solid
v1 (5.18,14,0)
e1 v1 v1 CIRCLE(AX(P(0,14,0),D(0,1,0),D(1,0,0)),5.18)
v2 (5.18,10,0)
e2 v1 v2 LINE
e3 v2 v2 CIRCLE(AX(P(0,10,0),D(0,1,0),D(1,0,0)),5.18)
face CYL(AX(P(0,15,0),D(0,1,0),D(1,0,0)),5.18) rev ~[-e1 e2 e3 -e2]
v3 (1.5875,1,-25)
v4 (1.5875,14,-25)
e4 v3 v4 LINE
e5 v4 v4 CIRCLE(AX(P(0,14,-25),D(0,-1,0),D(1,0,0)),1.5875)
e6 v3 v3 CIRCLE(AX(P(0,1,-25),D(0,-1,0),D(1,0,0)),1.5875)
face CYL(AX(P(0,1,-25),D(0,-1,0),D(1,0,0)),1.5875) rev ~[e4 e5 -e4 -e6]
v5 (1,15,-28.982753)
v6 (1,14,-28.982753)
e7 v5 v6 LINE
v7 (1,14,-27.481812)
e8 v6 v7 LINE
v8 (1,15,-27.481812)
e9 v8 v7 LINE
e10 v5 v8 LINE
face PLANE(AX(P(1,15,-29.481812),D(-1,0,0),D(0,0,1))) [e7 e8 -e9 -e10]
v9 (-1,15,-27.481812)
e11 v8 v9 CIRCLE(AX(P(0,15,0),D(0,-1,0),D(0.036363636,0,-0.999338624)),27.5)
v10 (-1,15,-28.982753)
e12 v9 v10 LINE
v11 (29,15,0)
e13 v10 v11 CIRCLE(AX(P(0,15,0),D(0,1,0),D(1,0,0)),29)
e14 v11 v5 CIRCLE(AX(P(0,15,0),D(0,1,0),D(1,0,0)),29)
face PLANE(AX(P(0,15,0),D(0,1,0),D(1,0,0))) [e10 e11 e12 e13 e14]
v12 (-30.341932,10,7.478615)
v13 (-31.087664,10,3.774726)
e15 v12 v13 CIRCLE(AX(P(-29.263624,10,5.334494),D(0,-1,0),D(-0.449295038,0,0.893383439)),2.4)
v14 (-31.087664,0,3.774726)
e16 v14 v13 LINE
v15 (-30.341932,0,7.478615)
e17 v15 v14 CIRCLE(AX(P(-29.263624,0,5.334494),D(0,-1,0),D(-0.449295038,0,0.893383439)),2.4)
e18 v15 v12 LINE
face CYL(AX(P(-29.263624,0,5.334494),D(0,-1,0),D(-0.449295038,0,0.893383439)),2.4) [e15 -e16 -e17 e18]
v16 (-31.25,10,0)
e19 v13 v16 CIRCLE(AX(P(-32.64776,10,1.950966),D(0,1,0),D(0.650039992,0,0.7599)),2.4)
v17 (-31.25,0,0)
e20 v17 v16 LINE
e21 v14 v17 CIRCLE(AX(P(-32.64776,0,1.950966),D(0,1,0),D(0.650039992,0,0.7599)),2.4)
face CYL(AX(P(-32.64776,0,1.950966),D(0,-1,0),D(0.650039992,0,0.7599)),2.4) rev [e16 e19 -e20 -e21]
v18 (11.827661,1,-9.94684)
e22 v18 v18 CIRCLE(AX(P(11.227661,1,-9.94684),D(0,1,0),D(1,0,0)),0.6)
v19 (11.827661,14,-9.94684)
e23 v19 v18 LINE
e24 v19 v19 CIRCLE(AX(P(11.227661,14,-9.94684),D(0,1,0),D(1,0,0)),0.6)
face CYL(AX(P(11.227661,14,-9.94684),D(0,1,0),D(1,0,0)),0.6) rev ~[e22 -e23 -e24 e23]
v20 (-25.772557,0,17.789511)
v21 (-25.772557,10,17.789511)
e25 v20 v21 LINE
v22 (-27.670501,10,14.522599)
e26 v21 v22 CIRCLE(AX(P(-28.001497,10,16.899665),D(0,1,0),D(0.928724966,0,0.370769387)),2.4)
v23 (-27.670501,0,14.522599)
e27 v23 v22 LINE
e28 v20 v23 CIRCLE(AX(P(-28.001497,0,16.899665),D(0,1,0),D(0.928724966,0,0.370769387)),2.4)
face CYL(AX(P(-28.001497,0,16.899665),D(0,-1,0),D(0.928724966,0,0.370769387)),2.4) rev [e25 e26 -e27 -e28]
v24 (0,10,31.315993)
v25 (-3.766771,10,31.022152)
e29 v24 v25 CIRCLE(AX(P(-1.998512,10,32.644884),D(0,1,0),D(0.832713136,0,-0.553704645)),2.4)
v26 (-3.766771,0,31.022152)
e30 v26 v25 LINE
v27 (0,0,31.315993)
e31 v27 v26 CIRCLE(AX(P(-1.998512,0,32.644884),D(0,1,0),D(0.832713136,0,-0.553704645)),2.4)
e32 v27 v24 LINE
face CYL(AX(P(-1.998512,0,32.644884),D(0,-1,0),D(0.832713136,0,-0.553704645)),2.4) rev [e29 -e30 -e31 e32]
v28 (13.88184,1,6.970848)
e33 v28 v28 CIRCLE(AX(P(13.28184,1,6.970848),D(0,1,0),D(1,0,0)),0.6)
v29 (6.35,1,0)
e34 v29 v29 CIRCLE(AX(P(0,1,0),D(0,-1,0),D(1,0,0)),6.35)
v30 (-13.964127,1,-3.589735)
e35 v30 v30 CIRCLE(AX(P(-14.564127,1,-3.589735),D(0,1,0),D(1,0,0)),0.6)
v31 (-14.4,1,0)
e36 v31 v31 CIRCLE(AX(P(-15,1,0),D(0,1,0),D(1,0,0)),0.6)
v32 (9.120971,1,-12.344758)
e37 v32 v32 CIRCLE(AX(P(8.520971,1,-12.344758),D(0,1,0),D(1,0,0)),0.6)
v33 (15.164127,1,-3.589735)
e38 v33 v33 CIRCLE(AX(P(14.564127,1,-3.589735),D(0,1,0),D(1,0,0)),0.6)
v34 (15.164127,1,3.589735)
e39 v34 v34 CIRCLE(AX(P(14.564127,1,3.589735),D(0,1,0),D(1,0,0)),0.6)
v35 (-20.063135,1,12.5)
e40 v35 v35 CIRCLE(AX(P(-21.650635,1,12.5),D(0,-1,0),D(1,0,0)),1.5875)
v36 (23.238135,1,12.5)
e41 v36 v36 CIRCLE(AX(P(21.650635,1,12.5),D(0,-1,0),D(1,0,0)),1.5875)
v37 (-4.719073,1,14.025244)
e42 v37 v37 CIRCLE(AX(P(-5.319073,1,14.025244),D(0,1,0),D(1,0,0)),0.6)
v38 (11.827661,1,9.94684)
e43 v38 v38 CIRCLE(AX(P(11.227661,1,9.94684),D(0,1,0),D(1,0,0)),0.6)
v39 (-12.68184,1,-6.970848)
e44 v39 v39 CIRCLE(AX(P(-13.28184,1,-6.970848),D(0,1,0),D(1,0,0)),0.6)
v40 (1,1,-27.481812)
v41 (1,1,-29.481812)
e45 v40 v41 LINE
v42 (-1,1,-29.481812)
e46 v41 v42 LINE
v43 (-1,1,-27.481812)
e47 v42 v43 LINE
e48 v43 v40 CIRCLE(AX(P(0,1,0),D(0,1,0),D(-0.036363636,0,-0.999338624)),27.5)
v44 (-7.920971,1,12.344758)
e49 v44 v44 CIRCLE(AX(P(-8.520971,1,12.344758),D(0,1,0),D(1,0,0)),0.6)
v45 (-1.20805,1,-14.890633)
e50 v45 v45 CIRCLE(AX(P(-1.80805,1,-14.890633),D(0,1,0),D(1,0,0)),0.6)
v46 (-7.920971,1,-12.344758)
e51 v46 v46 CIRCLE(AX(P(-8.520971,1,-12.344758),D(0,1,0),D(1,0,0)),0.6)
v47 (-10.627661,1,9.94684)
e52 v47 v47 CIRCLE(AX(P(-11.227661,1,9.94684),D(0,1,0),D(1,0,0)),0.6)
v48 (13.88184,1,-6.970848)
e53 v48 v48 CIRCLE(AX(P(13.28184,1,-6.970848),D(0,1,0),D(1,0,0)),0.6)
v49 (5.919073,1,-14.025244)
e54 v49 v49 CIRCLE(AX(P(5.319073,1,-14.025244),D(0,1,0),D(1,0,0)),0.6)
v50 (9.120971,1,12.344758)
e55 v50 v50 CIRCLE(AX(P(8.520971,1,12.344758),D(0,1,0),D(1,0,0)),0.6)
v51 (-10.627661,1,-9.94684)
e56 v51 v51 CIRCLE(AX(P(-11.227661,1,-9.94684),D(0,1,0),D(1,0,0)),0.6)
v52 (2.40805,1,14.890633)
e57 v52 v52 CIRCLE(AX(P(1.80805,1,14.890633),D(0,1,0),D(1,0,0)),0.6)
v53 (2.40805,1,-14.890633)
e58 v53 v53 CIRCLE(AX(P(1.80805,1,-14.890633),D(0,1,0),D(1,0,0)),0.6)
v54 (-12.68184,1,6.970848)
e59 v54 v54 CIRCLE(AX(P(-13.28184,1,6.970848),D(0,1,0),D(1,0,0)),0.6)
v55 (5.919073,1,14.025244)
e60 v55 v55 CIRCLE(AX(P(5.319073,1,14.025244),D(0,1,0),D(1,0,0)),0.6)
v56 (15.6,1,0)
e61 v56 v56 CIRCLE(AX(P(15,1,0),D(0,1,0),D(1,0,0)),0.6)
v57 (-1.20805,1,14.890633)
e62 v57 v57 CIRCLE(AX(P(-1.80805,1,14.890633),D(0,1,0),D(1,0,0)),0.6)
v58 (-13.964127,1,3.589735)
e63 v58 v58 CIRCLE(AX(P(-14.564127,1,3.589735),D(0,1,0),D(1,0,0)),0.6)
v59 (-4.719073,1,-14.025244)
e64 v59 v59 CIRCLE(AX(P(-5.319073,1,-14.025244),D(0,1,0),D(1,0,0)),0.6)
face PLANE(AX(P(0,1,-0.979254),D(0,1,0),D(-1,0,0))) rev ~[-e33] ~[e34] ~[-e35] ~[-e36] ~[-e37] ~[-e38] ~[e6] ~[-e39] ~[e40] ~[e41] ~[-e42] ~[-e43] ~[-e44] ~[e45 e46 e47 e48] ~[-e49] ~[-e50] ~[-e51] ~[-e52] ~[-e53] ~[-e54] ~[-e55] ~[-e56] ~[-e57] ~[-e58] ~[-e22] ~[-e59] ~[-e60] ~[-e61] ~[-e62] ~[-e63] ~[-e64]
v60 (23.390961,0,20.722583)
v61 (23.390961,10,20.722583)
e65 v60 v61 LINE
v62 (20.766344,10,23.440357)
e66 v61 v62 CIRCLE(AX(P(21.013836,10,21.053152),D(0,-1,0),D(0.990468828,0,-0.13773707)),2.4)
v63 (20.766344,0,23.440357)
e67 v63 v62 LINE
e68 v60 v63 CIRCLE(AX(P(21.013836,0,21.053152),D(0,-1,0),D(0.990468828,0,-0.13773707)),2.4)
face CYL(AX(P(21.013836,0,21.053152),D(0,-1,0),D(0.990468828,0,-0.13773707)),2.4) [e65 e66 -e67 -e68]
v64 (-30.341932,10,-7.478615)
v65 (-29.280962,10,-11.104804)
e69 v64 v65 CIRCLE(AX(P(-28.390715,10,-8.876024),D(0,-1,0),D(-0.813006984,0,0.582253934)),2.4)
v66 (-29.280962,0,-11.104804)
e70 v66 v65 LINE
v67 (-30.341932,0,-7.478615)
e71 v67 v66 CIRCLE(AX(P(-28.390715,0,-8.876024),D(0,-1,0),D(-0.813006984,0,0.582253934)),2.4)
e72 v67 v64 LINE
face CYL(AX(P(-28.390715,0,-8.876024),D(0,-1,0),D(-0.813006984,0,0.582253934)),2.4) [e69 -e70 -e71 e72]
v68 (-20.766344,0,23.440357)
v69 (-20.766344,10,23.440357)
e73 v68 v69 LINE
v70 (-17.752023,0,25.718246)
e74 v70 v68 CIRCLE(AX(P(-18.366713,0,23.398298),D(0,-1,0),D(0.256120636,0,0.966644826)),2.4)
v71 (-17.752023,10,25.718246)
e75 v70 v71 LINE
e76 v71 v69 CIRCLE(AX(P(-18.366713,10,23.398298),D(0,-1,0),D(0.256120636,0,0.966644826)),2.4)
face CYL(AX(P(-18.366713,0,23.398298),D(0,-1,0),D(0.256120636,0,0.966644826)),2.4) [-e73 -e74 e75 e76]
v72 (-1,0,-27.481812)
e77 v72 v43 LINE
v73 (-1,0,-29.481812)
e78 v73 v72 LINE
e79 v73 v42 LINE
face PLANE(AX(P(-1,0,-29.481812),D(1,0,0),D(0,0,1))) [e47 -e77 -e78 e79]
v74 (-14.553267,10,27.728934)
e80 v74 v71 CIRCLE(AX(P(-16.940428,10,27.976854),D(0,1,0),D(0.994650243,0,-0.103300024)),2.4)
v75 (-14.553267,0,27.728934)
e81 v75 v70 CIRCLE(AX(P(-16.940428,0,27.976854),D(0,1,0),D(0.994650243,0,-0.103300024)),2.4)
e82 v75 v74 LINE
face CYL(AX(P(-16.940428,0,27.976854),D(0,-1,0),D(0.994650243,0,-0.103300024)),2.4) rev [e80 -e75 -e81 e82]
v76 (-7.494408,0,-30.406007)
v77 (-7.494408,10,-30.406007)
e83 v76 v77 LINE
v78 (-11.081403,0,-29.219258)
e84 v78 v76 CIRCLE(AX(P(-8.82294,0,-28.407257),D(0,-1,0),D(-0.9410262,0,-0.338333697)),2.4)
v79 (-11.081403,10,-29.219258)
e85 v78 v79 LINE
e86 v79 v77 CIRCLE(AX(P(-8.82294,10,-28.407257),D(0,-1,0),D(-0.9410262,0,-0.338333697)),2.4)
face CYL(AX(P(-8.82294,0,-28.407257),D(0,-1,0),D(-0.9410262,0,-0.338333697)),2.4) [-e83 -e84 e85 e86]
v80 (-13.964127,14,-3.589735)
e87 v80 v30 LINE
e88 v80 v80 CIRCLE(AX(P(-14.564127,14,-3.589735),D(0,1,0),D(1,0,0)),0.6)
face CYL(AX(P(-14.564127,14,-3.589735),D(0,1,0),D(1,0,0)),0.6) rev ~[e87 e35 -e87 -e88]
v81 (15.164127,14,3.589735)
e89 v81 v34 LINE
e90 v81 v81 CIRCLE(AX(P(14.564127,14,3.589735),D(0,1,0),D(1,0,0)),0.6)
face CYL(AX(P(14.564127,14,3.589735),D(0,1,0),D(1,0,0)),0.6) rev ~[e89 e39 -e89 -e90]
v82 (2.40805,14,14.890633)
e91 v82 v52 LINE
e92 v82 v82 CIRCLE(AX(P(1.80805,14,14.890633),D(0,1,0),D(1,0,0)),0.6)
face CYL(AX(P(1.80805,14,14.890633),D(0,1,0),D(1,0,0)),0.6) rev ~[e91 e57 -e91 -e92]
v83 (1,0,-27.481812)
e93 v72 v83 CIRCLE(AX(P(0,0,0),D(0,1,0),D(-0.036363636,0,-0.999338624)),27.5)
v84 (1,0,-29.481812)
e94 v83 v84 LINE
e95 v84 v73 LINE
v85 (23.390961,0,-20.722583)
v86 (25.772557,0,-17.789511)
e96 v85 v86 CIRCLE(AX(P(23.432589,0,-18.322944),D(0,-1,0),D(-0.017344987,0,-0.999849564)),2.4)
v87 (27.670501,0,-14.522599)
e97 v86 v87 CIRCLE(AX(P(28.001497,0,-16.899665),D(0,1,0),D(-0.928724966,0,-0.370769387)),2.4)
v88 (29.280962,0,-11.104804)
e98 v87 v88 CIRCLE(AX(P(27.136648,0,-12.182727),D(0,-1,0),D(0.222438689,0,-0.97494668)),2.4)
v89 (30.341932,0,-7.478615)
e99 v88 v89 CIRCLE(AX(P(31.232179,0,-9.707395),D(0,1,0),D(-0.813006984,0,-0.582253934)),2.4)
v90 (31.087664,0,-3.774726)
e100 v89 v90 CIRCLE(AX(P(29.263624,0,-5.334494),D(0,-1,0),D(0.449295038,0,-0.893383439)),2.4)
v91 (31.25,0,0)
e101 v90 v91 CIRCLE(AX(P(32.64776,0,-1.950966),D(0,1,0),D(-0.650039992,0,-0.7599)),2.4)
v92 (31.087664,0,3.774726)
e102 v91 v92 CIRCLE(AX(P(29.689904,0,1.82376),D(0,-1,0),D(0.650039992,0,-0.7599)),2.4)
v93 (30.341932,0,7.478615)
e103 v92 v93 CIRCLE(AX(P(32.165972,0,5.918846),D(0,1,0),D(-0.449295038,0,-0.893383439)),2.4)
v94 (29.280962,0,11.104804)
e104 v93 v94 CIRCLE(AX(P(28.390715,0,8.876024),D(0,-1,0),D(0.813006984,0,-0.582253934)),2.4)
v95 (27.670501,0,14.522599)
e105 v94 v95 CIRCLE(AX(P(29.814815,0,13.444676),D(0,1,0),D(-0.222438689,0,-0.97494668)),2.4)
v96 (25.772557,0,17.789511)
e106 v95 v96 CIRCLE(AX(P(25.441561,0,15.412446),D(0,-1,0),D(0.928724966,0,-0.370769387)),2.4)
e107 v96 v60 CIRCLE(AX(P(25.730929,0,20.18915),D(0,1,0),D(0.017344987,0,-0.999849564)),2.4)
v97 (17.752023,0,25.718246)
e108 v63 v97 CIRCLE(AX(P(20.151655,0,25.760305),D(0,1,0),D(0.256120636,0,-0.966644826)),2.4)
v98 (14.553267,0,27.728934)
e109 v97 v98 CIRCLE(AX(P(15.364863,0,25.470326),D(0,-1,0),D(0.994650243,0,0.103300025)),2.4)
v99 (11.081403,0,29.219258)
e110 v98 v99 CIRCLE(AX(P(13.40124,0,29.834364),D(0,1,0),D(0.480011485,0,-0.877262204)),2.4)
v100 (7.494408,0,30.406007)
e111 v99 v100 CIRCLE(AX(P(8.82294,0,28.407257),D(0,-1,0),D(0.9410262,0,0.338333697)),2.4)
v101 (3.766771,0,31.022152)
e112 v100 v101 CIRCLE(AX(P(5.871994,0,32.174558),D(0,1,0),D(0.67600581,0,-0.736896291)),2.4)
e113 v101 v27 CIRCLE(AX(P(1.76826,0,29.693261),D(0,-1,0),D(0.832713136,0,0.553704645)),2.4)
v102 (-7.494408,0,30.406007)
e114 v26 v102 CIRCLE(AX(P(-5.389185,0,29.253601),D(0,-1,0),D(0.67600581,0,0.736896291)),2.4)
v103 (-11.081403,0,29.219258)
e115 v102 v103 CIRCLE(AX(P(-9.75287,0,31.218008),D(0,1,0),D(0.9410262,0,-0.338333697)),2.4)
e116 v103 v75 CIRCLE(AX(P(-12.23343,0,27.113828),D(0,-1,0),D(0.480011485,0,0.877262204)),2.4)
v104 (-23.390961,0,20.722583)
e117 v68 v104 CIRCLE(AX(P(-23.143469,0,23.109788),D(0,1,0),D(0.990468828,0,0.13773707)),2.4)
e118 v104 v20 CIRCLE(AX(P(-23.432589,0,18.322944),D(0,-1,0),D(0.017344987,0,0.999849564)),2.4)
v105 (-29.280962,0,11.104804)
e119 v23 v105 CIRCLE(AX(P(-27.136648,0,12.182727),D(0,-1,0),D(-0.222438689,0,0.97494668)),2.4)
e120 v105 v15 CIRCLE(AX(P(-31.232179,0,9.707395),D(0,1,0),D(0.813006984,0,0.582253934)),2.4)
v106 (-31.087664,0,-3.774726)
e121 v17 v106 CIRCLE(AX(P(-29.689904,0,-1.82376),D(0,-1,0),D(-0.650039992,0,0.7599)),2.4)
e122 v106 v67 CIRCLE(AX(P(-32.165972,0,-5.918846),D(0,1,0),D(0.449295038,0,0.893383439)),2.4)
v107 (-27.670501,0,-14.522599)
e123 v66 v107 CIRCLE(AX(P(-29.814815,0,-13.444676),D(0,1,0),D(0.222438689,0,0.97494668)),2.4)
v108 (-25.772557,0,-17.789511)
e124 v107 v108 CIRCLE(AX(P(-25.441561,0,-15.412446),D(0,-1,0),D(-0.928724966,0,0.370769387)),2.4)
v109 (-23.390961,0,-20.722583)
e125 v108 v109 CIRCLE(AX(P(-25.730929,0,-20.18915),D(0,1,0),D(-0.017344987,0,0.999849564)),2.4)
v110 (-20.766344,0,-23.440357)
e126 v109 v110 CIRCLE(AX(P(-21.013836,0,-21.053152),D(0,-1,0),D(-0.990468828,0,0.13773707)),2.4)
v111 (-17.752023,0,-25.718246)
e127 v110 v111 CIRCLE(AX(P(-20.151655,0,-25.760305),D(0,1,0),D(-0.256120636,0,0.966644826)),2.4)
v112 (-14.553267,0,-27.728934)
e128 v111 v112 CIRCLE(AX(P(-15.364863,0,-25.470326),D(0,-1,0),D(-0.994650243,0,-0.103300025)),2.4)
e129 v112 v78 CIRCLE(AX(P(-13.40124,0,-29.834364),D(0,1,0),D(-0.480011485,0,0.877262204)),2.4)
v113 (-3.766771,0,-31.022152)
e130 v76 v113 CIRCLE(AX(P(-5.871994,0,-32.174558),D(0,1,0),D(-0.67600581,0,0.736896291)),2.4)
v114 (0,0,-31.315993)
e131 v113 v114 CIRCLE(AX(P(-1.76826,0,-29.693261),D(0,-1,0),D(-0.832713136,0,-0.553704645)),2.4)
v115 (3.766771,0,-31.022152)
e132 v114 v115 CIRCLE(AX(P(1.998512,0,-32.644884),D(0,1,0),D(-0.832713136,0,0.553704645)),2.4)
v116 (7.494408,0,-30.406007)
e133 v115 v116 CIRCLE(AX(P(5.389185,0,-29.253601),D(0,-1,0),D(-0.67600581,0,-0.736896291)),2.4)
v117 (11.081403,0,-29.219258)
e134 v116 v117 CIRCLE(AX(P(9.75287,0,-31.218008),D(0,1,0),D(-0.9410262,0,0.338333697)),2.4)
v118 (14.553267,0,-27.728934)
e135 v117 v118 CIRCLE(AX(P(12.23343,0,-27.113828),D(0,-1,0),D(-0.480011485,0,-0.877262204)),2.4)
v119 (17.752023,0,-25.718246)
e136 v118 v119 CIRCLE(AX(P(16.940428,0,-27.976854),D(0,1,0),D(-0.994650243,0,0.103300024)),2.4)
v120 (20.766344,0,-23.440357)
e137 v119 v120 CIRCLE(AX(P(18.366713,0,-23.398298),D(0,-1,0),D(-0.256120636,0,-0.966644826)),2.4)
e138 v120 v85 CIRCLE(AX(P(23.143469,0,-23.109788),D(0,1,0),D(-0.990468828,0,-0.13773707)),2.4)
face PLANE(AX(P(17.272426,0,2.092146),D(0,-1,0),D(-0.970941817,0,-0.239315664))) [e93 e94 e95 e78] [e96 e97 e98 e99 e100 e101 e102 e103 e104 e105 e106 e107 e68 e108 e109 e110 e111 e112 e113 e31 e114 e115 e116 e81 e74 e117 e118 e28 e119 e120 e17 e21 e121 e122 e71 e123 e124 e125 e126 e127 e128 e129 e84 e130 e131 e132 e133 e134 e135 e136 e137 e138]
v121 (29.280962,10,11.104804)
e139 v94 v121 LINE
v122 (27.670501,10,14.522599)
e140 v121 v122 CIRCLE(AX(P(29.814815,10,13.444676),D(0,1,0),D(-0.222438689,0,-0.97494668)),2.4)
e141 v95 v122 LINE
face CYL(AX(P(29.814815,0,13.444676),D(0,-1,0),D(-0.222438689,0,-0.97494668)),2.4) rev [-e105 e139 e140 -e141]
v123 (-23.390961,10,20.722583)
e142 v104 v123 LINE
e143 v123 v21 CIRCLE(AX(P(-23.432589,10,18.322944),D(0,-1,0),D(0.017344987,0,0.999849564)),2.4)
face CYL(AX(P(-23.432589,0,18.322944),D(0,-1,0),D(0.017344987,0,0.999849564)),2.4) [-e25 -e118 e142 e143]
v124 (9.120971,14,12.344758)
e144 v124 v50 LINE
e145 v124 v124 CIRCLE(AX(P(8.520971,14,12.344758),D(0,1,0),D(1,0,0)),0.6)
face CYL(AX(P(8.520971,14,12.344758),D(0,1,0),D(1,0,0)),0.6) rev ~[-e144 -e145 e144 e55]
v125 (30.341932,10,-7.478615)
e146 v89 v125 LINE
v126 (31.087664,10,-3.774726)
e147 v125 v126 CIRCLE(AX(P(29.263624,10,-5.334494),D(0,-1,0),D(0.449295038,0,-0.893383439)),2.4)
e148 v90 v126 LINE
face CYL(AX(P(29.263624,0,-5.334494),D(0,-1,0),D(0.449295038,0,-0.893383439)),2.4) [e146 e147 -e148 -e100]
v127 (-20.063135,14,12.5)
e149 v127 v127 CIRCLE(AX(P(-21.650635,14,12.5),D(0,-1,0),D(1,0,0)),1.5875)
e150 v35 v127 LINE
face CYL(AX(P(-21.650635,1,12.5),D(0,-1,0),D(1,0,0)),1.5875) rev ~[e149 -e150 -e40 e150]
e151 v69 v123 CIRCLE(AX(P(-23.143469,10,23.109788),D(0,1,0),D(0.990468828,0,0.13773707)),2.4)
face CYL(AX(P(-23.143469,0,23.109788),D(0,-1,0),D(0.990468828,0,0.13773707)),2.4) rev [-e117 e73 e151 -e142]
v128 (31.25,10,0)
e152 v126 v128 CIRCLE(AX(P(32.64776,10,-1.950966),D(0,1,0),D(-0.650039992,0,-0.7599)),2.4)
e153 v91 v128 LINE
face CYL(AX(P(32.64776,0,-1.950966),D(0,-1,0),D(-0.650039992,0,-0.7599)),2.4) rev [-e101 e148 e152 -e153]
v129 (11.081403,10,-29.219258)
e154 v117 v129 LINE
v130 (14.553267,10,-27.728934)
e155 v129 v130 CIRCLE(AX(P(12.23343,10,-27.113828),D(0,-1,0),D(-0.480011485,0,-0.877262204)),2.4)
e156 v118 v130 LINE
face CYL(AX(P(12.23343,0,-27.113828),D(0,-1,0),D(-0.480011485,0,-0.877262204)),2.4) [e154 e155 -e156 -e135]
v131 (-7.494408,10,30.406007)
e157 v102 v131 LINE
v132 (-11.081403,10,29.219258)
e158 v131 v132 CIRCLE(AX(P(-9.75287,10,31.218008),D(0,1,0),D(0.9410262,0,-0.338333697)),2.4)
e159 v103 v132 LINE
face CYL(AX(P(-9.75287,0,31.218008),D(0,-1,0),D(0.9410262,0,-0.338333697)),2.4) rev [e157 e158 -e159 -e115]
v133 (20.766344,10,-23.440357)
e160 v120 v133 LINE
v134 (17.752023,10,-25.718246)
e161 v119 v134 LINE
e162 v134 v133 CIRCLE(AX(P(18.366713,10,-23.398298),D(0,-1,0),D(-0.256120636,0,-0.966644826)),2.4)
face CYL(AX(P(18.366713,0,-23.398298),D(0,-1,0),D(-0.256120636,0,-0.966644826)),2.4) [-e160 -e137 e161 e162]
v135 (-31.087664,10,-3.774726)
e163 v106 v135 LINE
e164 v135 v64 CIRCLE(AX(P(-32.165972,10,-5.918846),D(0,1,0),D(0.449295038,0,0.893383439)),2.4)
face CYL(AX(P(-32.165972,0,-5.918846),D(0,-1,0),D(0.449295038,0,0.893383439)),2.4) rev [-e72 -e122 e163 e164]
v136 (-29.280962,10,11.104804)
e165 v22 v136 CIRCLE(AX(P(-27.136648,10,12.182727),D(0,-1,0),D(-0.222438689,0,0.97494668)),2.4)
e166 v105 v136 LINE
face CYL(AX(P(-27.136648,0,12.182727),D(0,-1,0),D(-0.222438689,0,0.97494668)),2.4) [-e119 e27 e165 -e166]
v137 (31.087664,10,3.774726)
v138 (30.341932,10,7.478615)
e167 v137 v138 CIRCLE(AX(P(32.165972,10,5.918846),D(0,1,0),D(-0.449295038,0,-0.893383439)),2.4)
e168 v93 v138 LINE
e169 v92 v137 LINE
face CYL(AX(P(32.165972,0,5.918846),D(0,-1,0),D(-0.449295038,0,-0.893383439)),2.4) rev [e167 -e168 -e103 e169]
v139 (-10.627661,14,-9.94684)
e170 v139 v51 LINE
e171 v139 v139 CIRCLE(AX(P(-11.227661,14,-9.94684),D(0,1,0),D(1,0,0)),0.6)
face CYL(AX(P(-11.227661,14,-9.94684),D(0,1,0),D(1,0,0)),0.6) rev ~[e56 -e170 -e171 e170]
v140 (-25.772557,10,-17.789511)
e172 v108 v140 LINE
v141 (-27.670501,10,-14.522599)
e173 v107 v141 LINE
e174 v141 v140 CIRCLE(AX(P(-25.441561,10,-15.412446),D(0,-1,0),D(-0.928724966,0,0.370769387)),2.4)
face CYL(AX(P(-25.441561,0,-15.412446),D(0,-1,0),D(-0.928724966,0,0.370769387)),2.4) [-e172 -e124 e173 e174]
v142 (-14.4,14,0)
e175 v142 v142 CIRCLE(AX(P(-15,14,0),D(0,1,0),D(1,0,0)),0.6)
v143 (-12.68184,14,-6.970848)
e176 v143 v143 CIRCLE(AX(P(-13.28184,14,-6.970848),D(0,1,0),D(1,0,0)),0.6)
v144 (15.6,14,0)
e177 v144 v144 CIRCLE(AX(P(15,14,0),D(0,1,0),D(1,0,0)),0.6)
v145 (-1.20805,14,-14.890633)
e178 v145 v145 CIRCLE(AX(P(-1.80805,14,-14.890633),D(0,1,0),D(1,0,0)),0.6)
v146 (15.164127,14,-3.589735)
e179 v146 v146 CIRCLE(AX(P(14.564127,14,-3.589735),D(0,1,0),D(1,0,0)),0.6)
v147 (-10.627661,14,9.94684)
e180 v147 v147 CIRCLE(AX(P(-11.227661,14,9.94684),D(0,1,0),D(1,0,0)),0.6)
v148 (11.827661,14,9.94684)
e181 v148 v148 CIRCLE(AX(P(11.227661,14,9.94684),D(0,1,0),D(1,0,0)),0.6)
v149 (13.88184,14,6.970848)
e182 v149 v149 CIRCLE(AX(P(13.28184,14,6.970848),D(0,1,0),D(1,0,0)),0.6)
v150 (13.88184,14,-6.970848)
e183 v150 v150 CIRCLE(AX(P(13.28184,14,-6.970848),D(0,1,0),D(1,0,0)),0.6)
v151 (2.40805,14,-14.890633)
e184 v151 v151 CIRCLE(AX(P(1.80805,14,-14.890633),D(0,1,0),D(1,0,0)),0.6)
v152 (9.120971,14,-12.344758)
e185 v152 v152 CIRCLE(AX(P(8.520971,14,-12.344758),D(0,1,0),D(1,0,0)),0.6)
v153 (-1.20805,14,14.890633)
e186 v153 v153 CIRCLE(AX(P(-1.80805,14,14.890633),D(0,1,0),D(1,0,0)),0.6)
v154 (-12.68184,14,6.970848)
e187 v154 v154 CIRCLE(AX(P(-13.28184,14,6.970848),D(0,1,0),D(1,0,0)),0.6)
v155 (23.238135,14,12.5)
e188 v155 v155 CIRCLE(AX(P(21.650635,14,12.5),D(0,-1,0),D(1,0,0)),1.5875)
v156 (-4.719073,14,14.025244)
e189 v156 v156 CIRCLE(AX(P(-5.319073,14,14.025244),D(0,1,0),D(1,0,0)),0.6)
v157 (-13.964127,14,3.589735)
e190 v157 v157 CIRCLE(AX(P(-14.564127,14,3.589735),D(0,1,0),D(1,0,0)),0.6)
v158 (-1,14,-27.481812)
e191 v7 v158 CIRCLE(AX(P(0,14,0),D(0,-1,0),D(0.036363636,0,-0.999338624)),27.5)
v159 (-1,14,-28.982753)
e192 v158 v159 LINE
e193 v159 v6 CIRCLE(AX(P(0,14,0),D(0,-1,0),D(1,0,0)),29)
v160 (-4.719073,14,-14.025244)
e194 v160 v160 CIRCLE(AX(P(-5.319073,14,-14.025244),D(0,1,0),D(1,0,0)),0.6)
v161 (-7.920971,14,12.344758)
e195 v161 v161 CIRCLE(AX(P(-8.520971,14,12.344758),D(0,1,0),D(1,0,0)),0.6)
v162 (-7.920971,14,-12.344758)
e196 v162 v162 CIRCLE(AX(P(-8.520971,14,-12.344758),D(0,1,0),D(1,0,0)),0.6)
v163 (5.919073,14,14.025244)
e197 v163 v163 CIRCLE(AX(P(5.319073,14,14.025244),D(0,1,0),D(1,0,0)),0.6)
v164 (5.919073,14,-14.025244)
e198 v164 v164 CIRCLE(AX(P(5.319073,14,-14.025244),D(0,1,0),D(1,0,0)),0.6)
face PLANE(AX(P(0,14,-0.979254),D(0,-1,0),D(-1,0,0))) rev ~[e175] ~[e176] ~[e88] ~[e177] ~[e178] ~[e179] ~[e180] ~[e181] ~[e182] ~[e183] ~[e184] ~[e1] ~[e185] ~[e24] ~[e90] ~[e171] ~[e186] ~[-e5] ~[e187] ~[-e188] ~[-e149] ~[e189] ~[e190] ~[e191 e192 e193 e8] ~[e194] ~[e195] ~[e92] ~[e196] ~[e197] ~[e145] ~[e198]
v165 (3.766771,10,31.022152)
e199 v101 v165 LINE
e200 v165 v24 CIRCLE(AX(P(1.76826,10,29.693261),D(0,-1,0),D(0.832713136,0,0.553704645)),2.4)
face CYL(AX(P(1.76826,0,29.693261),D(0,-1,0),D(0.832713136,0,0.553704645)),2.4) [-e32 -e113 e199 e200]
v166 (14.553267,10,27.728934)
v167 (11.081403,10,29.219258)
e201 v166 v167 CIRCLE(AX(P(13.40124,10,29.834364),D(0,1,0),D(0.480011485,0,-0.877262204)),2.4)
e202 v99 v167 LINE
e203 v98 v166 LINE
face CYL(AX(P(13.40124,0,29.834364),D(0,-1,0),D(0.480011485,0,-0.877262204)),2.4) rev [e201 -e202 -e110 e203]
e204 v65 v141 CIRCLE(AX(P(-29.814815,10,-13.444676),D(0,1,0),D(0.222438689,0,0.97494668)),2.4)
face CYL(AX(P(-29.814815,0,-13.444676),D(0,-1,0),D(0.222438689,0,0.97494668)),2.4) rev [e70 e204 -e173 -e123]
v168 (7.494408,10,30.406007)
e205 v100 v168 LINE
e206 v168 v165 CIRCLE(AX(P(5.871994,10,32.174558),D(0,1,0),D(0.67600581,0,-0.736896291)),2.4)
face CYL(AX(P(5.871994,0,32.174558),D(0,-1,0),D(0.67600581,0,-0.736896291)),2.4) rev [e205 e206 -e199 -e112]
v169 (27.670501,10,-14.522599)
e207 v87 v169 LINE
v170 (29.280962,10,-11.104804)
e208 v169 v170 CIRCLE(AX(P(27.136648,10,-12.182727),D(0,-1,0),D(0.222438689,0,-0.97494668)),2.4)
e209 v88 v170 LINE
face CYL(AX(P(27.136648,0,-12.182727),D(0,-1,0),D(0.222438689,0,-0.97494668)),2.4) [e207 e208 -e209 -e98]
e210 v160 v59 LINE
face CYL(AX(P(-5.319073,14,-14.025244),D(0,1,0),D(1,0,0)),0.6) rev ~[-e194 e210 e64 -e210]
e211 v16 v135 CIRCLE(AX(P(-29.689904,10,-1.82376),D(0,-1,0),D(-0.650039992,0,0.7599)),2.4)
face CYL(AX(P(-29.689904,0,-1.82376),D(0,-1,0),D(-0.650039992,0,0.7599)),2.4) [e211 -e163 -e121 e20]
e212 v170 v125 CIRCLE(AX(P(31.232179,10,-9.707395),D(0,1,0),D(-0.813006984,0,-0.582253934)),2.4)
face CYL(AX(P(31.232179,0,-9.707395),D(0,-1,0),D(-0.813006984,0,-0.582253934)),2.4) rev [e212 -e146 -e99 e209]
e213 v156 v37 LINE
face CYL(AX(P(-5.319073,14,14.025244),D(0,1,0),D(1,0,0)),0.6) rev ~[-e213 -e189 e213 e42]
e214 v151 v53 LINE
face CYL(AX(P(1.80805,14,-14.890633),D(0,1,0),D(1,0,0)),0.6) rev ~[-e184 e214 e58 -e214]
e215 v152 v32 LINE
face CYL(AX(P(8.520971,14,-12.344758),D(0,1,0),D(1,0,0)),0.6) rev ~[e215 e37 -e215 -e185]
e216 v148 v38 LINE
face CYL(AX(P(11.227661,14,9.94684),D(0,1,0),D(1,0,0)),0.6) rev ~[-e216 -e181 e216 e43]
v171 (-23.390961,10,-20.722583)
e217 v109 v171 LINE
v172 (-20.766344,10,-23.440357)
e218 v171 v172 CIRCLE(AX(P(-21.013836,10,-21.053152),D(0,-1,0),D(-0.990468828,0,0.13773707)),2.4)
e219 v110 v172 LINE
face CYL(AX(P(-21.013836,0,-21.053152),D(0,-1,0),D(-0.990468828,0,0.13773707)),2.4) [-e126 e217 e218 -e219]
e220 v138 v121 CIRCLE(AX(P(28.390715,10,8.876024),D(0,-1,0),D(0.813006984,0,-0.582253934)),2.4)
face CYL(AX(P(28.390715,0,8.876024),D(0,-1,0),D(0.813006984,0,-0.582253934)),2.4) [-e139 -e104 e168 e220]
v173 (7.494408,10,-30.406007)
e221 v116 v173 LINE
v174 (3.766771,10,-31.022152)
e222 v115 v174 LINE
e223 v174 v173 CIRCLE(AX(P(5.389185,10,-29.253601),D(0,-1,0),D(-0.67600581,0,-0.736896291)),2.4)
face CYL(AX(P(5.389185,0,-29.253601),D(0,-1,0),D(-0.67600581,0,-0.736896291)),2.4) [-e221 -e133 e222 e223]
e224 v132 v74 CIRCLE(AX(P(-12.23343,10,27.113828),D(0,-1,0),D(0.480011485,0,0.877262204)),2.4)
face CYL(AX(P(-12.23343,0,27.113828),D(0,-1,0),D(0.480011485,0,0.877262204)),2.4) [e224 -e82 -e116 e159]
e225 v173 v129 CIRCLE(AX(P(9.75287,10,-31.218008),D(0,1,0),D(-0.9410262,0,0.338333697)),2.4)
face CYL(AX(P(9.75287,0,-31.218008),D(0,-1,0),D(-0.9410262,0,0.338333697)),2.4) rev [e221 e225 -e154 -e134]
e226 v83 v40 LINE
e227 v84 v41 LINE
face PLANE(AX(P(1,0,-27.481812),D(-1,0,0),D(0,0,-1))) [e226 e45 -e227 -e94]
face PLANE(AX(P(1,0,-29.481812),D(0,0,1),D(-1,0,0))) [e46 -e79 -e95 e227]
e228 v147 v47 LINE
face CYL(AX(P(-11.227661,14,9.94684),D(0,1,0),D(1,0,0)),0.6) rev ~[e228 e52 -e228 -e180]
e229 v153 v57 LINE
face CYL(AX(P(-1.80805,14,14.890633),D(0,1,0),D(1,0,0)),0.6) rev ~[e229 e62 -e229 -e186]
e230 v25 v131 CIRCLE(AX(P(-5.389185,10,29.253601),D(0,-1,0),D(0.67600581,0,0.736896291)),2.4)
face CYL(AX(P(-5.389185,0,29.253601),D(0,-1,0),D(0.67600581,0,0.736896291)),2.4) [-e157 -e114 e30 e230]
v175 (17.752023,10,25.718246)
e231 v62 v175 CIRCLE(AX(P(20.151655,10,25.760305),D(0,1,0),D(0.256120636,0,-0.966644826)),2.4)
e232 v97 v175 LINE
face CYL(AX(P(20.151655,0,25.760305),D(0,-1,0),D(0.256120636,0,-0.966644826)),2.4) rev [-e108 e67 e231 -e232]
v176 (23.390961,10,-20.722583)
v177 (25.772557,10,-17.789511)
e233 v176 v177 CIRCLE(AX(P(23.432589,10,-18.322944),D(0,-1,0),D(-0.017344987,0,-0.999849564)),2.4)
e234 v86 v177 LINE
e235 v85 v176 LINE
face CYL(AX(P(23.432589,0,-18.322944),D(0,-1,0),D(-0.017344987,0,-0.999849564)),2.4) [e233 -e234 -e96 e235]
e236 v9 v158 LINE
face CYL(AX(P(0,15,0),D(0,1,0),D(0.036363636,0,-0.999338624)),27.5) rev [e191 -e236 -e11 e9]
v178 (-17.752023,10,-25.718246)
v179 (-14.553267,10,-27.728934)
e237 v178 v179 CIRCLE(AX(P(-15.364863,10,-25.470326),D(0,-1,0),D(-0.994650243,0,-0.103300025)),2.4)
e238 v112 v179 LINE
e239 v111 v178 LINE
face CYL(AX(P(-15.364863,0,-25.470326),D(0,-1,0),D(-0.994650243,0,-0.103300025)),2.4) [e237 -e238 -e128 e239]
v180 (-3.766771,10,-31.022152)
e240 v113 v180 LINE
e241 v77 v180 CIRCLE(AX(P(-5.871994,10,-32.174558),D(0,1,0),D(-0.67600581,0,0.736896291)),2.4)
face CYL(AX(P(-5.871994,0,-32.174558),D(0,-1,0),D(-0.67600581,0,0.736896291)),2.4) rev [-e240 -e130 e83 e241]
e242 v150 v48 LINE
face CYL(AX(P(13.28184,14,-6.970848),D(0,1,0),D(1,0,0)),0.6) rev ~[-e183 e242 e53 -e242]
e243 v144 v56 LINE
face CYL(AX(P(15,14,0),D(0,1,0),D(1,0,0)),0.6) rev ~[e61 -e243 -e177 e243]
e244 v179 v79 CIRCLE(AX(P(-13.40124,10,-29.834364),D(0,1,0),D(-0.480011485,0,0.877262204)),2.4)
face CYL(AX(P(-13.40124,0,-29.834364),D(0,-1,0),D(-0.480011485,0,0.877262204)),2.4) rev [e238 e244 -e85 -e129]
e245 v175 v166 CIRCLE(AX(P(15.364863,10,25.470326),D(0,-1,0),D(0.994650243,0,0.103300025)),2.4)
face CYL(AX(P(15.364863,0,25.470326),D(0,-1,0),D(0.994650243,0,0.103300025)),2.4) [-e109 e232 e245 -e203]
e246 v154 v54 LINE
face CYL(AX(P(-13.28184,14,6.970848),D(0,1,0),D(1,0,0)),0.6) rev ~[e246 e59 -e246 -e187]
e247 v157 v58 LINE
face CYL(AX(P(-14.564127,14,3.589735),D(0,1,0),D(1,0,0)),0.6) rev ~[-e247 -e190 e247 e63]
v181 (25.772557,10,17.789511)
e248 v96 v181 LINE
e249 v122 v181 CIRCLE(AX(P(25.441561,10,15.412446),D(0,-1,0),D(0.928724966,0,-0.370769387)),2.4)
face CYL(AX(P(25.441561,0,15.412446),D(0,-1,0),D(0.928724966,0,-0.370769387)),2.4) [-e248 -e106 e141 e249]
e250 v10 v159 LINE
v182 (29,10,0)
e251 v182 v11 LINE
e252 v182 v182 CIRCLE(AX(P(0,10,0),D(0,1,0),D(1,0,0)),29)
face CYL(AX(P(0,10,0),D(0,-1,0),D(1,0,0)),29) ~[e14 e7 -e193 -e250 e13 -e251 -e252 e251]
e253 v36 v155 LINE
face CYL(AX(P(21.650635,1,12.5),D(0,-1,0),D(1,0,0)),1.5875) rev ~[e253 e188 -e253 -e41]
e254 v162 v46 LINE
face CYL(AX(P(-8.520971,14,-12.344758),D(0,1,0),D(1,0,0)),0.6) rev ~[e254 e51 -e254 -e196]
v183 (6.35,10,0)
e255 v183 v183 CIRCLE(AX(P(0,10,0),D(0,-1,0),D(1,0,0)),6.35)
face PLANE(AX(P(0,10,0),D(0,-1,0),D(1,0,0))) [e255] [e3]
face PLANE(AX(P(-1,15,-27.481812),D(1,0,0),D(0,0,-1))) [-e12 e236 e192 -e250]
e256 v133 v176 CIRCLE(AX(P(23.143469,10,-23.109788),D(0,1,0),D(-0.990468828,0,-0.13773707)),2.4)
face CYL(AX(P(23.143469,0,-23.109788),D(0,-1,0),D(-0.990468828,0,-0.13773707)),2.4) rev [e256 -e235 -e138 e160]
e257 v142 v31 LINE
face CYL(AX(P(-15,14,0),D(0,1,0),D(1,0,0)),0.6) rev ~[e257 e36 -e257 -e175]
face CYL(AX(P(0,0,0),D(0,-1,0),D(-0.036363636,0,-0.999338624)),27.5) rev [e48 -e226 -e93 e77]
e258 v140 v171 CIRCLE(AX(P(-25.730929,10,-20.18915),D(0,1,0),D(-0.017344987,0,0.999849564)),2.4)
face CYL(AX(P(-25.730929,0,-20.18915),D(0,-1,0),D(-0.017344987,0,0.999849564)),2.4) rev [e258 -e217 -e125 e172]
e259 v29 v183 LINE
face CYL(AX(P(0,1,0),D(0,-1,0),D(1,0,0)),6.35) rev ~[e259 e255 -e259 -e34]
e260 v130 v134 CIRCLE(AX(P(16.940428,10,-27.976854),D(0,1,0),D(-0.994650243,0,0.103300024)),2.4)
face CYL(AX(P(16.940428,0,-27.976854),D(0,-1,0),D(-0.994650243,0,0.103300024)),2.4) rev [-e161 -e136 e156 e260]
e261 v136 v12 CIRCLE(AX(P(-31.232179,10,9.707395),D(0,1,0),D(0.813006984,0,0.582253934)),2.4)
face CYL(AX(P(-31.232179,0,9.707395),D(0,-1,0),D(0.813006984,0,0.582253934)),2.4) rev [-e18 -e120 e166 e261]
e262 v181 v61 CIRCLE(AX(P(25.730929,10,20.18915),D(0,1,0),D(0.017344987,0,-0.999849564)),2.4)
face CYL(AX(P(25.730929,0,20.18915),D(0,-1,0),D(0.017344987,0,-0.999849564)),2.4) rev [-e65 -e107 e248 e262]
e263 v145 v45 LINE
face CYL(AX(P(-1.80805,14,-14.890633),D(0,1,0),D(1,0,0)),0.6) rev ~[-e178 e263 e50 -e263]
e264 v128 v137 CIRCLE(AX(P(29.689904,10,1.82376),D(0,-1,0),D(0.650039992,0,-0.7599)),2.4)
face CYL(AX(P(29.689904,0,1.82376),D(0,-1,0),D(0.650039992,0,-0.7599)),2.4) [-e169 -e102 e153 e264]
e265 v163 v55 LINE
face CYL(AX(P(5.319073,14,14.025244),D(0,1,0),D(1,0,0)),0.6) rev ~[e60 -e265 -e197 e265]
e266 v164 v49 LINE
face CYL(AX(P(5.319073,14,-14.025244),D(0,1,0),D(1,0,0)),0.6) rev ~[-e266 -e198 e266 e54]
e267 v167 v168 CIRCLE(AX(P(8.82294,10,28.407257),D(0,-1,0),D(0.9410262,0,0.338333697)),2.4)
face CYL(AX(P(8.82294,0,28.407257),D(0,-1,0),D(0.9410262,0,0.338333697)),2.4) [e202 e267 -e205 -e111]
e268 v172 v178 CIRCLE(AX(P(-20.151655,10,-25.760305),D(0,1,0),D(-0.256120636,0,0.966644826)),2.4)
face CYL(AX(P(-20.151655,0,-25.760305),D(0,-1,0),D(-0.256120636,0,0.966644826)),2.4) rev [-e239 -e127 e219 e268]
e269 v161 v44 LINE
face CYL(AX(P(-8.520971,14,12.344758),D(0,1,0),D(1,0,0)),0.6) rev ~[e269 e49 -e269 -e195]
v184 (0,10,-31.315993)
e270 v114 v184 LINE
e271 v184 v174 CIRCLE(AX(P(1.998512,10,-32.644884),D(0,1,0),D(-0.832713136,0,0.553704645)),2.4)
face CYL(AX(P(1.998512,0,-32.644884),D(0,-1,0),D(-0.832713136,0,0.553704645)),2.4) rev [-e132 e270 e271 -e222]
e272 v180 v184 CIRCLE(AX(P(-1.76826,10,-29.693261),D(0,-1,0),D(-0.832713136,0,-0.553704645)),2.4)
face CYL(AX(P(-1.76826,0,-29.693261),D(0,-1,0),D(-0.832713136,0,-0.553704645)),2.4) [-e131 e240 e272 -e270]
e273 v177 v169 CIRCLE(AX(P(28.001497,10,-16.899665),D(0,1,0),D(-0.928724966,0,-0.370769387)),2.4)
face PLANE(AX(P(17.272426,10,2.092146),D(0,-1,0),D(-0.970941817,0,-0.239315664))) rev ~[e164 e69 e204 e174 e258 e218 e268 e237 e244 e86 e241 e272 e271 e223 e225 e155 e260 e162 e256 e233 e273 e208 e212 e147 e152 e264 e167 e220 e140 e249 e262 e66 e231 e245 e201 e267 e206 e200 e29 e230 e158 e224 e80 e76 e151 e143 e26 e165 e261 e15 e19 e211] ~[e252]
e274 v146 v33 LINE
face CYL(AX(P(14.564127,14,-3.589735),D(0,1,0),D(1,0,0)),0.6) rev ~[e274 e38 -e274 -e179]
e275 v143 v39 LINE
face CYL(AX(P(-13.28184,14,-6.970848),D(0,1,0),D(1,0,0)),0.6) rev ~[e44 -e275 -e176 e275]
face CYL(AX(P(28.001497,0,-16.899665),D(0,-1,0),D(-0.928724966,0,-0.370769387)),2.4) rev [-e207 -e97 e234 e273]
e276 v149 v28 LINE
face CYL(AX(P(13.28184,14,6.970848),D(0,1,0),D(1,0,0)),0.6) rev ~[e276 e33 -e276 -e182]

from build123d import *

# Parameters (mm, degrees)
EXTRUDE_WHEEL_DEPTH        = 10
CIRPATTERN1_COUNT          = 26
SKETCH4_R                  = 29
BOSS_EXTRUDE1_DEPTH        = 5
BEARING_HOLE_R             = 5.18
CUT_BEARING_HOLE_DEPTH     = 16
PCB_INSET_CUT_DEPTH        = 1
PCB_INSET_CUT_2_DEPTH      = 1
PCB_OUTPUT_HOLES_R         = 0.6
PCB_OUTPUT_HOLES_CUT_DEPTH = 15
SKETCH5_R                  = 1.5875
ALIGNMENT_PIN_CUTOUT_DEPTH = 15
SKETCH7_R                  = 6.35
CUT_EXTRUDE2_DEPTH         = 9


with BuildPart() as part:
    # Wheel → Extrude wheel (new body)
    with BuildSketch(Plane(origin=(0, 0, 0), x_dir=(1, 0, 0), z_dir=(0, 1, 0))):
        with BuildLine():
            Line((0, 0), (29.128254523, 7.179469929))
            Line((29.128254523, 7.179469929), (30.341931795, 7.478614509))
            ThreePointArc((30.341931795, 7.478614509), (31.616410176, 5.808198613), (31.087663821, 3.774725795))
            ThreePointArc((31.087663821, 3.774725795), (30.249976155, 1.847846509), (31.25, 0))
            Line((31.25, 0), (30, 0))
            Line((30, 0), (0, 0))
        make_face()
    extrude_wheel = extrude(amount=EXTRUDE_WHEEL_DEPTH)

    # CirPattern1: Extrude wheel ×26 about axis
    cirpattern1_axis = Axis((0, 0, 0), (0, 1, 0))
    for i in range(1, CIRPATTERN1_COUNT):
        add(extrude_wheel.rotate(cirpattern1_axis, i * 360 / CIRPATTERN1_COUNT))

    # Sketch4 → Boss-Extrude1 (add)
    with BuildSketch(Plane(origin=(0, 10, 0), x_dir=(1, 0, 0), z_dir=(0, 1, 0))):
        Circle(SKETCH4_R)
    extrude(amount=BOSS_EXTRUDE1_DEPTH)

    # Bearing hole → Cut bearing hole (cut, through all)
    with BuildSketch(Plane(origin=(0, 15, 0), x_dir=(1, 0, 0), z_dir=(0, 1, 0))):
        Circle(BEARING_HOLE_R)
    extrude(amount=-CUT_BEARING_HOLE_DEPTH, mode=Mode.SUBTRACT)

    # PCB inset → PCB inset cut (cut)
    with BuildSketch(Plane(origin=(0, 15, 0), x_dir=(1, 0, 0), z_dir=(0, 1, 0))):
        with BuildLine():
            Line((-1, 27.481812167), (-1, 29.481812167))
            Line((-1, 29.481812167), (1, 29.481812167))
            Line((1, 29.481812167), (1, 27.481812167))
            ThreePointArc((1, 27.481812167), (0, -27.5), (-1, 27.481812167))
        make_face()
    extrude(amount=-PCB_INSET_CUT_DEPTH, mode=Mode.SUBTRACT)

    # PCB inset 2 → PCB inset cut 2 (cut)
    with BuildSketch(Plane.XZ):
        with BuildLine():
            Line((1, -27.481812167), (1, -29.481812167))
            Line((1, -29.481812167), (-1, -29.481812167))
            Line((-1, -29.481812167), (-1, -27.481812167))
            ThreePointArc((-1, -27.481812167), (0, 27.5), (1, -27.481812167))
        make_face()
    extrude(amount=-PCB_INSET_CUT_2_DEPTH, mode=Mode.SUBTRACT)

    # PCB output holes → PCB output holes cut (cut, through all)
    with BuildSketch(Plane(origin=(0, 14, 0), x_dir=(1, 0, 0), z_dir=(0, 1, 0))):
        with Locations((15, 0)):
            Circle(PCB_OUTPUT_HOLES_R)
        with Locations((14.564127261, -3.589734964)):
            Circle(PCB_OUTPUT_HOLES_R)
        with Locations((13.281840385, -6.970847581)):
            Circle(PCB_OUTPUT_HOLES_R)
        with Locations((11.227661223, -9.946839874)):
            Circle(PCB_OUTPUT_HOLES_R)
        with Locations((8.520971201, -12.344757988)):
            Circle(PCB_OUTPUT_HOLES_R)
        with Locations((5.319073306, -14.02524364)):
            Circle(PCB_OUTPUT_HOLES_R)
        with Locations((1.808050204, -14.890633111)):
            Circle(PCB_OUTPUT_HOLES_R)
        with Locations((-1.808050204, -14.890633111)):
            Circle(PCB_OUTPUT_HOLES_R)
        with Locations((-5.319073306, -14.02524364)):
            Circle(PCB_OUTPUT_HOLES_R)
        with Locations((-8.520971201, -12.344757988)):
            Circle(PCB_OUTPUT_HOLES_R)
        with Locations((-11.227661223, -9.946839874)):
            Circle(PCB_OUTPUT_HOLES_R)
        with Locations((-13.281840385, -6.970847581)):
            Circle(PCB_OUTPUT_HOLES_R)
        with Locations((-14.564127261, -3.589734964)):
            Circle(PCB_OUTPUT_HOLES_R)
        with Locations((-15, 0)):
            Circle(PCB_OUTPUT_HOLES_R)
        with Locations((-14.564127261, 3.589734964)):
            Circle(PCB_OUTPUT_HOLES_R)
        with Locations((-13.281840385, 6.970847581)):
            Circle(PCB_OUTPUT_HOLES_R)
        with Locations((-11.227661223, 9.946839874)):
            Circle(PCB_OUTPUT_HOLES_R)
        with Locations((-8.520971201, 12.344757988)):
            Circle(PCB_OUTPUT_HOLES_R)
        with Locations((-5.319073306, 14.02524364)):
            Circle(PCB_OUTPUT_HOLES_R)
        with Locations((-1.808050204, 14.890633111)):
            Circle(PCB_OUTPUT_HOLES_R)
        with Locations((1.808050204, 14.890633111)):
            Circle(PCB_OUTPUT_HOLES_R)
        with Locations((5.319073306, 14.02524364)):
            Circle(PCB_OUTPUT_HOLES_R)
        with Locations((8.520971201, 12.344757988)):
            Circle(PCB_OUTPUT_HOLES_R)
        with Locations((11.227661223, 9.946839874)):
            Circle(PCB_OUTPUT_HOLES_R)
        with Locations((13.281840385, 6.970847581)):
            Circle(PCB_OUTPUT_HOLES_R)
        with Locations((14.564127261, 3.589734964)):
            Circle(PCB_OUTPUT_HOLES_R)
    extrude(amount=-PCB_OUTPUT_HOLES_CUT_DEPTH, mode=Mode.SUBTRACT)

    # Sketch5 → Alignment pin cutout (cut, through all)
    with BuildSketch(Plane.XZ.offset(-1)):
        with Locations((0, -25)):
            Circle(SKETCH5_R)
        with Locations((-21.650635095, 12.5)):
            Circle(SKETCH5_R)
        with Locations((21.650635095, 12.5)):
            Circle(SKETCH5_R)
    extrude(amount=-ALIGNMENT_PIN_CUTOUT_DEPTH, mode=Mode.SUBTRACT)

    # Sketch7 → Cut-Extrude2 (cut)
    with BuildSketch(Plane.XZ.offset(-1)):
        Circle(SKETCH7_R)
    extrude(amount=-CUT_EXTRUDE2_DEPTH, mode=Mode.SUBTRACT)


solid = part.part
